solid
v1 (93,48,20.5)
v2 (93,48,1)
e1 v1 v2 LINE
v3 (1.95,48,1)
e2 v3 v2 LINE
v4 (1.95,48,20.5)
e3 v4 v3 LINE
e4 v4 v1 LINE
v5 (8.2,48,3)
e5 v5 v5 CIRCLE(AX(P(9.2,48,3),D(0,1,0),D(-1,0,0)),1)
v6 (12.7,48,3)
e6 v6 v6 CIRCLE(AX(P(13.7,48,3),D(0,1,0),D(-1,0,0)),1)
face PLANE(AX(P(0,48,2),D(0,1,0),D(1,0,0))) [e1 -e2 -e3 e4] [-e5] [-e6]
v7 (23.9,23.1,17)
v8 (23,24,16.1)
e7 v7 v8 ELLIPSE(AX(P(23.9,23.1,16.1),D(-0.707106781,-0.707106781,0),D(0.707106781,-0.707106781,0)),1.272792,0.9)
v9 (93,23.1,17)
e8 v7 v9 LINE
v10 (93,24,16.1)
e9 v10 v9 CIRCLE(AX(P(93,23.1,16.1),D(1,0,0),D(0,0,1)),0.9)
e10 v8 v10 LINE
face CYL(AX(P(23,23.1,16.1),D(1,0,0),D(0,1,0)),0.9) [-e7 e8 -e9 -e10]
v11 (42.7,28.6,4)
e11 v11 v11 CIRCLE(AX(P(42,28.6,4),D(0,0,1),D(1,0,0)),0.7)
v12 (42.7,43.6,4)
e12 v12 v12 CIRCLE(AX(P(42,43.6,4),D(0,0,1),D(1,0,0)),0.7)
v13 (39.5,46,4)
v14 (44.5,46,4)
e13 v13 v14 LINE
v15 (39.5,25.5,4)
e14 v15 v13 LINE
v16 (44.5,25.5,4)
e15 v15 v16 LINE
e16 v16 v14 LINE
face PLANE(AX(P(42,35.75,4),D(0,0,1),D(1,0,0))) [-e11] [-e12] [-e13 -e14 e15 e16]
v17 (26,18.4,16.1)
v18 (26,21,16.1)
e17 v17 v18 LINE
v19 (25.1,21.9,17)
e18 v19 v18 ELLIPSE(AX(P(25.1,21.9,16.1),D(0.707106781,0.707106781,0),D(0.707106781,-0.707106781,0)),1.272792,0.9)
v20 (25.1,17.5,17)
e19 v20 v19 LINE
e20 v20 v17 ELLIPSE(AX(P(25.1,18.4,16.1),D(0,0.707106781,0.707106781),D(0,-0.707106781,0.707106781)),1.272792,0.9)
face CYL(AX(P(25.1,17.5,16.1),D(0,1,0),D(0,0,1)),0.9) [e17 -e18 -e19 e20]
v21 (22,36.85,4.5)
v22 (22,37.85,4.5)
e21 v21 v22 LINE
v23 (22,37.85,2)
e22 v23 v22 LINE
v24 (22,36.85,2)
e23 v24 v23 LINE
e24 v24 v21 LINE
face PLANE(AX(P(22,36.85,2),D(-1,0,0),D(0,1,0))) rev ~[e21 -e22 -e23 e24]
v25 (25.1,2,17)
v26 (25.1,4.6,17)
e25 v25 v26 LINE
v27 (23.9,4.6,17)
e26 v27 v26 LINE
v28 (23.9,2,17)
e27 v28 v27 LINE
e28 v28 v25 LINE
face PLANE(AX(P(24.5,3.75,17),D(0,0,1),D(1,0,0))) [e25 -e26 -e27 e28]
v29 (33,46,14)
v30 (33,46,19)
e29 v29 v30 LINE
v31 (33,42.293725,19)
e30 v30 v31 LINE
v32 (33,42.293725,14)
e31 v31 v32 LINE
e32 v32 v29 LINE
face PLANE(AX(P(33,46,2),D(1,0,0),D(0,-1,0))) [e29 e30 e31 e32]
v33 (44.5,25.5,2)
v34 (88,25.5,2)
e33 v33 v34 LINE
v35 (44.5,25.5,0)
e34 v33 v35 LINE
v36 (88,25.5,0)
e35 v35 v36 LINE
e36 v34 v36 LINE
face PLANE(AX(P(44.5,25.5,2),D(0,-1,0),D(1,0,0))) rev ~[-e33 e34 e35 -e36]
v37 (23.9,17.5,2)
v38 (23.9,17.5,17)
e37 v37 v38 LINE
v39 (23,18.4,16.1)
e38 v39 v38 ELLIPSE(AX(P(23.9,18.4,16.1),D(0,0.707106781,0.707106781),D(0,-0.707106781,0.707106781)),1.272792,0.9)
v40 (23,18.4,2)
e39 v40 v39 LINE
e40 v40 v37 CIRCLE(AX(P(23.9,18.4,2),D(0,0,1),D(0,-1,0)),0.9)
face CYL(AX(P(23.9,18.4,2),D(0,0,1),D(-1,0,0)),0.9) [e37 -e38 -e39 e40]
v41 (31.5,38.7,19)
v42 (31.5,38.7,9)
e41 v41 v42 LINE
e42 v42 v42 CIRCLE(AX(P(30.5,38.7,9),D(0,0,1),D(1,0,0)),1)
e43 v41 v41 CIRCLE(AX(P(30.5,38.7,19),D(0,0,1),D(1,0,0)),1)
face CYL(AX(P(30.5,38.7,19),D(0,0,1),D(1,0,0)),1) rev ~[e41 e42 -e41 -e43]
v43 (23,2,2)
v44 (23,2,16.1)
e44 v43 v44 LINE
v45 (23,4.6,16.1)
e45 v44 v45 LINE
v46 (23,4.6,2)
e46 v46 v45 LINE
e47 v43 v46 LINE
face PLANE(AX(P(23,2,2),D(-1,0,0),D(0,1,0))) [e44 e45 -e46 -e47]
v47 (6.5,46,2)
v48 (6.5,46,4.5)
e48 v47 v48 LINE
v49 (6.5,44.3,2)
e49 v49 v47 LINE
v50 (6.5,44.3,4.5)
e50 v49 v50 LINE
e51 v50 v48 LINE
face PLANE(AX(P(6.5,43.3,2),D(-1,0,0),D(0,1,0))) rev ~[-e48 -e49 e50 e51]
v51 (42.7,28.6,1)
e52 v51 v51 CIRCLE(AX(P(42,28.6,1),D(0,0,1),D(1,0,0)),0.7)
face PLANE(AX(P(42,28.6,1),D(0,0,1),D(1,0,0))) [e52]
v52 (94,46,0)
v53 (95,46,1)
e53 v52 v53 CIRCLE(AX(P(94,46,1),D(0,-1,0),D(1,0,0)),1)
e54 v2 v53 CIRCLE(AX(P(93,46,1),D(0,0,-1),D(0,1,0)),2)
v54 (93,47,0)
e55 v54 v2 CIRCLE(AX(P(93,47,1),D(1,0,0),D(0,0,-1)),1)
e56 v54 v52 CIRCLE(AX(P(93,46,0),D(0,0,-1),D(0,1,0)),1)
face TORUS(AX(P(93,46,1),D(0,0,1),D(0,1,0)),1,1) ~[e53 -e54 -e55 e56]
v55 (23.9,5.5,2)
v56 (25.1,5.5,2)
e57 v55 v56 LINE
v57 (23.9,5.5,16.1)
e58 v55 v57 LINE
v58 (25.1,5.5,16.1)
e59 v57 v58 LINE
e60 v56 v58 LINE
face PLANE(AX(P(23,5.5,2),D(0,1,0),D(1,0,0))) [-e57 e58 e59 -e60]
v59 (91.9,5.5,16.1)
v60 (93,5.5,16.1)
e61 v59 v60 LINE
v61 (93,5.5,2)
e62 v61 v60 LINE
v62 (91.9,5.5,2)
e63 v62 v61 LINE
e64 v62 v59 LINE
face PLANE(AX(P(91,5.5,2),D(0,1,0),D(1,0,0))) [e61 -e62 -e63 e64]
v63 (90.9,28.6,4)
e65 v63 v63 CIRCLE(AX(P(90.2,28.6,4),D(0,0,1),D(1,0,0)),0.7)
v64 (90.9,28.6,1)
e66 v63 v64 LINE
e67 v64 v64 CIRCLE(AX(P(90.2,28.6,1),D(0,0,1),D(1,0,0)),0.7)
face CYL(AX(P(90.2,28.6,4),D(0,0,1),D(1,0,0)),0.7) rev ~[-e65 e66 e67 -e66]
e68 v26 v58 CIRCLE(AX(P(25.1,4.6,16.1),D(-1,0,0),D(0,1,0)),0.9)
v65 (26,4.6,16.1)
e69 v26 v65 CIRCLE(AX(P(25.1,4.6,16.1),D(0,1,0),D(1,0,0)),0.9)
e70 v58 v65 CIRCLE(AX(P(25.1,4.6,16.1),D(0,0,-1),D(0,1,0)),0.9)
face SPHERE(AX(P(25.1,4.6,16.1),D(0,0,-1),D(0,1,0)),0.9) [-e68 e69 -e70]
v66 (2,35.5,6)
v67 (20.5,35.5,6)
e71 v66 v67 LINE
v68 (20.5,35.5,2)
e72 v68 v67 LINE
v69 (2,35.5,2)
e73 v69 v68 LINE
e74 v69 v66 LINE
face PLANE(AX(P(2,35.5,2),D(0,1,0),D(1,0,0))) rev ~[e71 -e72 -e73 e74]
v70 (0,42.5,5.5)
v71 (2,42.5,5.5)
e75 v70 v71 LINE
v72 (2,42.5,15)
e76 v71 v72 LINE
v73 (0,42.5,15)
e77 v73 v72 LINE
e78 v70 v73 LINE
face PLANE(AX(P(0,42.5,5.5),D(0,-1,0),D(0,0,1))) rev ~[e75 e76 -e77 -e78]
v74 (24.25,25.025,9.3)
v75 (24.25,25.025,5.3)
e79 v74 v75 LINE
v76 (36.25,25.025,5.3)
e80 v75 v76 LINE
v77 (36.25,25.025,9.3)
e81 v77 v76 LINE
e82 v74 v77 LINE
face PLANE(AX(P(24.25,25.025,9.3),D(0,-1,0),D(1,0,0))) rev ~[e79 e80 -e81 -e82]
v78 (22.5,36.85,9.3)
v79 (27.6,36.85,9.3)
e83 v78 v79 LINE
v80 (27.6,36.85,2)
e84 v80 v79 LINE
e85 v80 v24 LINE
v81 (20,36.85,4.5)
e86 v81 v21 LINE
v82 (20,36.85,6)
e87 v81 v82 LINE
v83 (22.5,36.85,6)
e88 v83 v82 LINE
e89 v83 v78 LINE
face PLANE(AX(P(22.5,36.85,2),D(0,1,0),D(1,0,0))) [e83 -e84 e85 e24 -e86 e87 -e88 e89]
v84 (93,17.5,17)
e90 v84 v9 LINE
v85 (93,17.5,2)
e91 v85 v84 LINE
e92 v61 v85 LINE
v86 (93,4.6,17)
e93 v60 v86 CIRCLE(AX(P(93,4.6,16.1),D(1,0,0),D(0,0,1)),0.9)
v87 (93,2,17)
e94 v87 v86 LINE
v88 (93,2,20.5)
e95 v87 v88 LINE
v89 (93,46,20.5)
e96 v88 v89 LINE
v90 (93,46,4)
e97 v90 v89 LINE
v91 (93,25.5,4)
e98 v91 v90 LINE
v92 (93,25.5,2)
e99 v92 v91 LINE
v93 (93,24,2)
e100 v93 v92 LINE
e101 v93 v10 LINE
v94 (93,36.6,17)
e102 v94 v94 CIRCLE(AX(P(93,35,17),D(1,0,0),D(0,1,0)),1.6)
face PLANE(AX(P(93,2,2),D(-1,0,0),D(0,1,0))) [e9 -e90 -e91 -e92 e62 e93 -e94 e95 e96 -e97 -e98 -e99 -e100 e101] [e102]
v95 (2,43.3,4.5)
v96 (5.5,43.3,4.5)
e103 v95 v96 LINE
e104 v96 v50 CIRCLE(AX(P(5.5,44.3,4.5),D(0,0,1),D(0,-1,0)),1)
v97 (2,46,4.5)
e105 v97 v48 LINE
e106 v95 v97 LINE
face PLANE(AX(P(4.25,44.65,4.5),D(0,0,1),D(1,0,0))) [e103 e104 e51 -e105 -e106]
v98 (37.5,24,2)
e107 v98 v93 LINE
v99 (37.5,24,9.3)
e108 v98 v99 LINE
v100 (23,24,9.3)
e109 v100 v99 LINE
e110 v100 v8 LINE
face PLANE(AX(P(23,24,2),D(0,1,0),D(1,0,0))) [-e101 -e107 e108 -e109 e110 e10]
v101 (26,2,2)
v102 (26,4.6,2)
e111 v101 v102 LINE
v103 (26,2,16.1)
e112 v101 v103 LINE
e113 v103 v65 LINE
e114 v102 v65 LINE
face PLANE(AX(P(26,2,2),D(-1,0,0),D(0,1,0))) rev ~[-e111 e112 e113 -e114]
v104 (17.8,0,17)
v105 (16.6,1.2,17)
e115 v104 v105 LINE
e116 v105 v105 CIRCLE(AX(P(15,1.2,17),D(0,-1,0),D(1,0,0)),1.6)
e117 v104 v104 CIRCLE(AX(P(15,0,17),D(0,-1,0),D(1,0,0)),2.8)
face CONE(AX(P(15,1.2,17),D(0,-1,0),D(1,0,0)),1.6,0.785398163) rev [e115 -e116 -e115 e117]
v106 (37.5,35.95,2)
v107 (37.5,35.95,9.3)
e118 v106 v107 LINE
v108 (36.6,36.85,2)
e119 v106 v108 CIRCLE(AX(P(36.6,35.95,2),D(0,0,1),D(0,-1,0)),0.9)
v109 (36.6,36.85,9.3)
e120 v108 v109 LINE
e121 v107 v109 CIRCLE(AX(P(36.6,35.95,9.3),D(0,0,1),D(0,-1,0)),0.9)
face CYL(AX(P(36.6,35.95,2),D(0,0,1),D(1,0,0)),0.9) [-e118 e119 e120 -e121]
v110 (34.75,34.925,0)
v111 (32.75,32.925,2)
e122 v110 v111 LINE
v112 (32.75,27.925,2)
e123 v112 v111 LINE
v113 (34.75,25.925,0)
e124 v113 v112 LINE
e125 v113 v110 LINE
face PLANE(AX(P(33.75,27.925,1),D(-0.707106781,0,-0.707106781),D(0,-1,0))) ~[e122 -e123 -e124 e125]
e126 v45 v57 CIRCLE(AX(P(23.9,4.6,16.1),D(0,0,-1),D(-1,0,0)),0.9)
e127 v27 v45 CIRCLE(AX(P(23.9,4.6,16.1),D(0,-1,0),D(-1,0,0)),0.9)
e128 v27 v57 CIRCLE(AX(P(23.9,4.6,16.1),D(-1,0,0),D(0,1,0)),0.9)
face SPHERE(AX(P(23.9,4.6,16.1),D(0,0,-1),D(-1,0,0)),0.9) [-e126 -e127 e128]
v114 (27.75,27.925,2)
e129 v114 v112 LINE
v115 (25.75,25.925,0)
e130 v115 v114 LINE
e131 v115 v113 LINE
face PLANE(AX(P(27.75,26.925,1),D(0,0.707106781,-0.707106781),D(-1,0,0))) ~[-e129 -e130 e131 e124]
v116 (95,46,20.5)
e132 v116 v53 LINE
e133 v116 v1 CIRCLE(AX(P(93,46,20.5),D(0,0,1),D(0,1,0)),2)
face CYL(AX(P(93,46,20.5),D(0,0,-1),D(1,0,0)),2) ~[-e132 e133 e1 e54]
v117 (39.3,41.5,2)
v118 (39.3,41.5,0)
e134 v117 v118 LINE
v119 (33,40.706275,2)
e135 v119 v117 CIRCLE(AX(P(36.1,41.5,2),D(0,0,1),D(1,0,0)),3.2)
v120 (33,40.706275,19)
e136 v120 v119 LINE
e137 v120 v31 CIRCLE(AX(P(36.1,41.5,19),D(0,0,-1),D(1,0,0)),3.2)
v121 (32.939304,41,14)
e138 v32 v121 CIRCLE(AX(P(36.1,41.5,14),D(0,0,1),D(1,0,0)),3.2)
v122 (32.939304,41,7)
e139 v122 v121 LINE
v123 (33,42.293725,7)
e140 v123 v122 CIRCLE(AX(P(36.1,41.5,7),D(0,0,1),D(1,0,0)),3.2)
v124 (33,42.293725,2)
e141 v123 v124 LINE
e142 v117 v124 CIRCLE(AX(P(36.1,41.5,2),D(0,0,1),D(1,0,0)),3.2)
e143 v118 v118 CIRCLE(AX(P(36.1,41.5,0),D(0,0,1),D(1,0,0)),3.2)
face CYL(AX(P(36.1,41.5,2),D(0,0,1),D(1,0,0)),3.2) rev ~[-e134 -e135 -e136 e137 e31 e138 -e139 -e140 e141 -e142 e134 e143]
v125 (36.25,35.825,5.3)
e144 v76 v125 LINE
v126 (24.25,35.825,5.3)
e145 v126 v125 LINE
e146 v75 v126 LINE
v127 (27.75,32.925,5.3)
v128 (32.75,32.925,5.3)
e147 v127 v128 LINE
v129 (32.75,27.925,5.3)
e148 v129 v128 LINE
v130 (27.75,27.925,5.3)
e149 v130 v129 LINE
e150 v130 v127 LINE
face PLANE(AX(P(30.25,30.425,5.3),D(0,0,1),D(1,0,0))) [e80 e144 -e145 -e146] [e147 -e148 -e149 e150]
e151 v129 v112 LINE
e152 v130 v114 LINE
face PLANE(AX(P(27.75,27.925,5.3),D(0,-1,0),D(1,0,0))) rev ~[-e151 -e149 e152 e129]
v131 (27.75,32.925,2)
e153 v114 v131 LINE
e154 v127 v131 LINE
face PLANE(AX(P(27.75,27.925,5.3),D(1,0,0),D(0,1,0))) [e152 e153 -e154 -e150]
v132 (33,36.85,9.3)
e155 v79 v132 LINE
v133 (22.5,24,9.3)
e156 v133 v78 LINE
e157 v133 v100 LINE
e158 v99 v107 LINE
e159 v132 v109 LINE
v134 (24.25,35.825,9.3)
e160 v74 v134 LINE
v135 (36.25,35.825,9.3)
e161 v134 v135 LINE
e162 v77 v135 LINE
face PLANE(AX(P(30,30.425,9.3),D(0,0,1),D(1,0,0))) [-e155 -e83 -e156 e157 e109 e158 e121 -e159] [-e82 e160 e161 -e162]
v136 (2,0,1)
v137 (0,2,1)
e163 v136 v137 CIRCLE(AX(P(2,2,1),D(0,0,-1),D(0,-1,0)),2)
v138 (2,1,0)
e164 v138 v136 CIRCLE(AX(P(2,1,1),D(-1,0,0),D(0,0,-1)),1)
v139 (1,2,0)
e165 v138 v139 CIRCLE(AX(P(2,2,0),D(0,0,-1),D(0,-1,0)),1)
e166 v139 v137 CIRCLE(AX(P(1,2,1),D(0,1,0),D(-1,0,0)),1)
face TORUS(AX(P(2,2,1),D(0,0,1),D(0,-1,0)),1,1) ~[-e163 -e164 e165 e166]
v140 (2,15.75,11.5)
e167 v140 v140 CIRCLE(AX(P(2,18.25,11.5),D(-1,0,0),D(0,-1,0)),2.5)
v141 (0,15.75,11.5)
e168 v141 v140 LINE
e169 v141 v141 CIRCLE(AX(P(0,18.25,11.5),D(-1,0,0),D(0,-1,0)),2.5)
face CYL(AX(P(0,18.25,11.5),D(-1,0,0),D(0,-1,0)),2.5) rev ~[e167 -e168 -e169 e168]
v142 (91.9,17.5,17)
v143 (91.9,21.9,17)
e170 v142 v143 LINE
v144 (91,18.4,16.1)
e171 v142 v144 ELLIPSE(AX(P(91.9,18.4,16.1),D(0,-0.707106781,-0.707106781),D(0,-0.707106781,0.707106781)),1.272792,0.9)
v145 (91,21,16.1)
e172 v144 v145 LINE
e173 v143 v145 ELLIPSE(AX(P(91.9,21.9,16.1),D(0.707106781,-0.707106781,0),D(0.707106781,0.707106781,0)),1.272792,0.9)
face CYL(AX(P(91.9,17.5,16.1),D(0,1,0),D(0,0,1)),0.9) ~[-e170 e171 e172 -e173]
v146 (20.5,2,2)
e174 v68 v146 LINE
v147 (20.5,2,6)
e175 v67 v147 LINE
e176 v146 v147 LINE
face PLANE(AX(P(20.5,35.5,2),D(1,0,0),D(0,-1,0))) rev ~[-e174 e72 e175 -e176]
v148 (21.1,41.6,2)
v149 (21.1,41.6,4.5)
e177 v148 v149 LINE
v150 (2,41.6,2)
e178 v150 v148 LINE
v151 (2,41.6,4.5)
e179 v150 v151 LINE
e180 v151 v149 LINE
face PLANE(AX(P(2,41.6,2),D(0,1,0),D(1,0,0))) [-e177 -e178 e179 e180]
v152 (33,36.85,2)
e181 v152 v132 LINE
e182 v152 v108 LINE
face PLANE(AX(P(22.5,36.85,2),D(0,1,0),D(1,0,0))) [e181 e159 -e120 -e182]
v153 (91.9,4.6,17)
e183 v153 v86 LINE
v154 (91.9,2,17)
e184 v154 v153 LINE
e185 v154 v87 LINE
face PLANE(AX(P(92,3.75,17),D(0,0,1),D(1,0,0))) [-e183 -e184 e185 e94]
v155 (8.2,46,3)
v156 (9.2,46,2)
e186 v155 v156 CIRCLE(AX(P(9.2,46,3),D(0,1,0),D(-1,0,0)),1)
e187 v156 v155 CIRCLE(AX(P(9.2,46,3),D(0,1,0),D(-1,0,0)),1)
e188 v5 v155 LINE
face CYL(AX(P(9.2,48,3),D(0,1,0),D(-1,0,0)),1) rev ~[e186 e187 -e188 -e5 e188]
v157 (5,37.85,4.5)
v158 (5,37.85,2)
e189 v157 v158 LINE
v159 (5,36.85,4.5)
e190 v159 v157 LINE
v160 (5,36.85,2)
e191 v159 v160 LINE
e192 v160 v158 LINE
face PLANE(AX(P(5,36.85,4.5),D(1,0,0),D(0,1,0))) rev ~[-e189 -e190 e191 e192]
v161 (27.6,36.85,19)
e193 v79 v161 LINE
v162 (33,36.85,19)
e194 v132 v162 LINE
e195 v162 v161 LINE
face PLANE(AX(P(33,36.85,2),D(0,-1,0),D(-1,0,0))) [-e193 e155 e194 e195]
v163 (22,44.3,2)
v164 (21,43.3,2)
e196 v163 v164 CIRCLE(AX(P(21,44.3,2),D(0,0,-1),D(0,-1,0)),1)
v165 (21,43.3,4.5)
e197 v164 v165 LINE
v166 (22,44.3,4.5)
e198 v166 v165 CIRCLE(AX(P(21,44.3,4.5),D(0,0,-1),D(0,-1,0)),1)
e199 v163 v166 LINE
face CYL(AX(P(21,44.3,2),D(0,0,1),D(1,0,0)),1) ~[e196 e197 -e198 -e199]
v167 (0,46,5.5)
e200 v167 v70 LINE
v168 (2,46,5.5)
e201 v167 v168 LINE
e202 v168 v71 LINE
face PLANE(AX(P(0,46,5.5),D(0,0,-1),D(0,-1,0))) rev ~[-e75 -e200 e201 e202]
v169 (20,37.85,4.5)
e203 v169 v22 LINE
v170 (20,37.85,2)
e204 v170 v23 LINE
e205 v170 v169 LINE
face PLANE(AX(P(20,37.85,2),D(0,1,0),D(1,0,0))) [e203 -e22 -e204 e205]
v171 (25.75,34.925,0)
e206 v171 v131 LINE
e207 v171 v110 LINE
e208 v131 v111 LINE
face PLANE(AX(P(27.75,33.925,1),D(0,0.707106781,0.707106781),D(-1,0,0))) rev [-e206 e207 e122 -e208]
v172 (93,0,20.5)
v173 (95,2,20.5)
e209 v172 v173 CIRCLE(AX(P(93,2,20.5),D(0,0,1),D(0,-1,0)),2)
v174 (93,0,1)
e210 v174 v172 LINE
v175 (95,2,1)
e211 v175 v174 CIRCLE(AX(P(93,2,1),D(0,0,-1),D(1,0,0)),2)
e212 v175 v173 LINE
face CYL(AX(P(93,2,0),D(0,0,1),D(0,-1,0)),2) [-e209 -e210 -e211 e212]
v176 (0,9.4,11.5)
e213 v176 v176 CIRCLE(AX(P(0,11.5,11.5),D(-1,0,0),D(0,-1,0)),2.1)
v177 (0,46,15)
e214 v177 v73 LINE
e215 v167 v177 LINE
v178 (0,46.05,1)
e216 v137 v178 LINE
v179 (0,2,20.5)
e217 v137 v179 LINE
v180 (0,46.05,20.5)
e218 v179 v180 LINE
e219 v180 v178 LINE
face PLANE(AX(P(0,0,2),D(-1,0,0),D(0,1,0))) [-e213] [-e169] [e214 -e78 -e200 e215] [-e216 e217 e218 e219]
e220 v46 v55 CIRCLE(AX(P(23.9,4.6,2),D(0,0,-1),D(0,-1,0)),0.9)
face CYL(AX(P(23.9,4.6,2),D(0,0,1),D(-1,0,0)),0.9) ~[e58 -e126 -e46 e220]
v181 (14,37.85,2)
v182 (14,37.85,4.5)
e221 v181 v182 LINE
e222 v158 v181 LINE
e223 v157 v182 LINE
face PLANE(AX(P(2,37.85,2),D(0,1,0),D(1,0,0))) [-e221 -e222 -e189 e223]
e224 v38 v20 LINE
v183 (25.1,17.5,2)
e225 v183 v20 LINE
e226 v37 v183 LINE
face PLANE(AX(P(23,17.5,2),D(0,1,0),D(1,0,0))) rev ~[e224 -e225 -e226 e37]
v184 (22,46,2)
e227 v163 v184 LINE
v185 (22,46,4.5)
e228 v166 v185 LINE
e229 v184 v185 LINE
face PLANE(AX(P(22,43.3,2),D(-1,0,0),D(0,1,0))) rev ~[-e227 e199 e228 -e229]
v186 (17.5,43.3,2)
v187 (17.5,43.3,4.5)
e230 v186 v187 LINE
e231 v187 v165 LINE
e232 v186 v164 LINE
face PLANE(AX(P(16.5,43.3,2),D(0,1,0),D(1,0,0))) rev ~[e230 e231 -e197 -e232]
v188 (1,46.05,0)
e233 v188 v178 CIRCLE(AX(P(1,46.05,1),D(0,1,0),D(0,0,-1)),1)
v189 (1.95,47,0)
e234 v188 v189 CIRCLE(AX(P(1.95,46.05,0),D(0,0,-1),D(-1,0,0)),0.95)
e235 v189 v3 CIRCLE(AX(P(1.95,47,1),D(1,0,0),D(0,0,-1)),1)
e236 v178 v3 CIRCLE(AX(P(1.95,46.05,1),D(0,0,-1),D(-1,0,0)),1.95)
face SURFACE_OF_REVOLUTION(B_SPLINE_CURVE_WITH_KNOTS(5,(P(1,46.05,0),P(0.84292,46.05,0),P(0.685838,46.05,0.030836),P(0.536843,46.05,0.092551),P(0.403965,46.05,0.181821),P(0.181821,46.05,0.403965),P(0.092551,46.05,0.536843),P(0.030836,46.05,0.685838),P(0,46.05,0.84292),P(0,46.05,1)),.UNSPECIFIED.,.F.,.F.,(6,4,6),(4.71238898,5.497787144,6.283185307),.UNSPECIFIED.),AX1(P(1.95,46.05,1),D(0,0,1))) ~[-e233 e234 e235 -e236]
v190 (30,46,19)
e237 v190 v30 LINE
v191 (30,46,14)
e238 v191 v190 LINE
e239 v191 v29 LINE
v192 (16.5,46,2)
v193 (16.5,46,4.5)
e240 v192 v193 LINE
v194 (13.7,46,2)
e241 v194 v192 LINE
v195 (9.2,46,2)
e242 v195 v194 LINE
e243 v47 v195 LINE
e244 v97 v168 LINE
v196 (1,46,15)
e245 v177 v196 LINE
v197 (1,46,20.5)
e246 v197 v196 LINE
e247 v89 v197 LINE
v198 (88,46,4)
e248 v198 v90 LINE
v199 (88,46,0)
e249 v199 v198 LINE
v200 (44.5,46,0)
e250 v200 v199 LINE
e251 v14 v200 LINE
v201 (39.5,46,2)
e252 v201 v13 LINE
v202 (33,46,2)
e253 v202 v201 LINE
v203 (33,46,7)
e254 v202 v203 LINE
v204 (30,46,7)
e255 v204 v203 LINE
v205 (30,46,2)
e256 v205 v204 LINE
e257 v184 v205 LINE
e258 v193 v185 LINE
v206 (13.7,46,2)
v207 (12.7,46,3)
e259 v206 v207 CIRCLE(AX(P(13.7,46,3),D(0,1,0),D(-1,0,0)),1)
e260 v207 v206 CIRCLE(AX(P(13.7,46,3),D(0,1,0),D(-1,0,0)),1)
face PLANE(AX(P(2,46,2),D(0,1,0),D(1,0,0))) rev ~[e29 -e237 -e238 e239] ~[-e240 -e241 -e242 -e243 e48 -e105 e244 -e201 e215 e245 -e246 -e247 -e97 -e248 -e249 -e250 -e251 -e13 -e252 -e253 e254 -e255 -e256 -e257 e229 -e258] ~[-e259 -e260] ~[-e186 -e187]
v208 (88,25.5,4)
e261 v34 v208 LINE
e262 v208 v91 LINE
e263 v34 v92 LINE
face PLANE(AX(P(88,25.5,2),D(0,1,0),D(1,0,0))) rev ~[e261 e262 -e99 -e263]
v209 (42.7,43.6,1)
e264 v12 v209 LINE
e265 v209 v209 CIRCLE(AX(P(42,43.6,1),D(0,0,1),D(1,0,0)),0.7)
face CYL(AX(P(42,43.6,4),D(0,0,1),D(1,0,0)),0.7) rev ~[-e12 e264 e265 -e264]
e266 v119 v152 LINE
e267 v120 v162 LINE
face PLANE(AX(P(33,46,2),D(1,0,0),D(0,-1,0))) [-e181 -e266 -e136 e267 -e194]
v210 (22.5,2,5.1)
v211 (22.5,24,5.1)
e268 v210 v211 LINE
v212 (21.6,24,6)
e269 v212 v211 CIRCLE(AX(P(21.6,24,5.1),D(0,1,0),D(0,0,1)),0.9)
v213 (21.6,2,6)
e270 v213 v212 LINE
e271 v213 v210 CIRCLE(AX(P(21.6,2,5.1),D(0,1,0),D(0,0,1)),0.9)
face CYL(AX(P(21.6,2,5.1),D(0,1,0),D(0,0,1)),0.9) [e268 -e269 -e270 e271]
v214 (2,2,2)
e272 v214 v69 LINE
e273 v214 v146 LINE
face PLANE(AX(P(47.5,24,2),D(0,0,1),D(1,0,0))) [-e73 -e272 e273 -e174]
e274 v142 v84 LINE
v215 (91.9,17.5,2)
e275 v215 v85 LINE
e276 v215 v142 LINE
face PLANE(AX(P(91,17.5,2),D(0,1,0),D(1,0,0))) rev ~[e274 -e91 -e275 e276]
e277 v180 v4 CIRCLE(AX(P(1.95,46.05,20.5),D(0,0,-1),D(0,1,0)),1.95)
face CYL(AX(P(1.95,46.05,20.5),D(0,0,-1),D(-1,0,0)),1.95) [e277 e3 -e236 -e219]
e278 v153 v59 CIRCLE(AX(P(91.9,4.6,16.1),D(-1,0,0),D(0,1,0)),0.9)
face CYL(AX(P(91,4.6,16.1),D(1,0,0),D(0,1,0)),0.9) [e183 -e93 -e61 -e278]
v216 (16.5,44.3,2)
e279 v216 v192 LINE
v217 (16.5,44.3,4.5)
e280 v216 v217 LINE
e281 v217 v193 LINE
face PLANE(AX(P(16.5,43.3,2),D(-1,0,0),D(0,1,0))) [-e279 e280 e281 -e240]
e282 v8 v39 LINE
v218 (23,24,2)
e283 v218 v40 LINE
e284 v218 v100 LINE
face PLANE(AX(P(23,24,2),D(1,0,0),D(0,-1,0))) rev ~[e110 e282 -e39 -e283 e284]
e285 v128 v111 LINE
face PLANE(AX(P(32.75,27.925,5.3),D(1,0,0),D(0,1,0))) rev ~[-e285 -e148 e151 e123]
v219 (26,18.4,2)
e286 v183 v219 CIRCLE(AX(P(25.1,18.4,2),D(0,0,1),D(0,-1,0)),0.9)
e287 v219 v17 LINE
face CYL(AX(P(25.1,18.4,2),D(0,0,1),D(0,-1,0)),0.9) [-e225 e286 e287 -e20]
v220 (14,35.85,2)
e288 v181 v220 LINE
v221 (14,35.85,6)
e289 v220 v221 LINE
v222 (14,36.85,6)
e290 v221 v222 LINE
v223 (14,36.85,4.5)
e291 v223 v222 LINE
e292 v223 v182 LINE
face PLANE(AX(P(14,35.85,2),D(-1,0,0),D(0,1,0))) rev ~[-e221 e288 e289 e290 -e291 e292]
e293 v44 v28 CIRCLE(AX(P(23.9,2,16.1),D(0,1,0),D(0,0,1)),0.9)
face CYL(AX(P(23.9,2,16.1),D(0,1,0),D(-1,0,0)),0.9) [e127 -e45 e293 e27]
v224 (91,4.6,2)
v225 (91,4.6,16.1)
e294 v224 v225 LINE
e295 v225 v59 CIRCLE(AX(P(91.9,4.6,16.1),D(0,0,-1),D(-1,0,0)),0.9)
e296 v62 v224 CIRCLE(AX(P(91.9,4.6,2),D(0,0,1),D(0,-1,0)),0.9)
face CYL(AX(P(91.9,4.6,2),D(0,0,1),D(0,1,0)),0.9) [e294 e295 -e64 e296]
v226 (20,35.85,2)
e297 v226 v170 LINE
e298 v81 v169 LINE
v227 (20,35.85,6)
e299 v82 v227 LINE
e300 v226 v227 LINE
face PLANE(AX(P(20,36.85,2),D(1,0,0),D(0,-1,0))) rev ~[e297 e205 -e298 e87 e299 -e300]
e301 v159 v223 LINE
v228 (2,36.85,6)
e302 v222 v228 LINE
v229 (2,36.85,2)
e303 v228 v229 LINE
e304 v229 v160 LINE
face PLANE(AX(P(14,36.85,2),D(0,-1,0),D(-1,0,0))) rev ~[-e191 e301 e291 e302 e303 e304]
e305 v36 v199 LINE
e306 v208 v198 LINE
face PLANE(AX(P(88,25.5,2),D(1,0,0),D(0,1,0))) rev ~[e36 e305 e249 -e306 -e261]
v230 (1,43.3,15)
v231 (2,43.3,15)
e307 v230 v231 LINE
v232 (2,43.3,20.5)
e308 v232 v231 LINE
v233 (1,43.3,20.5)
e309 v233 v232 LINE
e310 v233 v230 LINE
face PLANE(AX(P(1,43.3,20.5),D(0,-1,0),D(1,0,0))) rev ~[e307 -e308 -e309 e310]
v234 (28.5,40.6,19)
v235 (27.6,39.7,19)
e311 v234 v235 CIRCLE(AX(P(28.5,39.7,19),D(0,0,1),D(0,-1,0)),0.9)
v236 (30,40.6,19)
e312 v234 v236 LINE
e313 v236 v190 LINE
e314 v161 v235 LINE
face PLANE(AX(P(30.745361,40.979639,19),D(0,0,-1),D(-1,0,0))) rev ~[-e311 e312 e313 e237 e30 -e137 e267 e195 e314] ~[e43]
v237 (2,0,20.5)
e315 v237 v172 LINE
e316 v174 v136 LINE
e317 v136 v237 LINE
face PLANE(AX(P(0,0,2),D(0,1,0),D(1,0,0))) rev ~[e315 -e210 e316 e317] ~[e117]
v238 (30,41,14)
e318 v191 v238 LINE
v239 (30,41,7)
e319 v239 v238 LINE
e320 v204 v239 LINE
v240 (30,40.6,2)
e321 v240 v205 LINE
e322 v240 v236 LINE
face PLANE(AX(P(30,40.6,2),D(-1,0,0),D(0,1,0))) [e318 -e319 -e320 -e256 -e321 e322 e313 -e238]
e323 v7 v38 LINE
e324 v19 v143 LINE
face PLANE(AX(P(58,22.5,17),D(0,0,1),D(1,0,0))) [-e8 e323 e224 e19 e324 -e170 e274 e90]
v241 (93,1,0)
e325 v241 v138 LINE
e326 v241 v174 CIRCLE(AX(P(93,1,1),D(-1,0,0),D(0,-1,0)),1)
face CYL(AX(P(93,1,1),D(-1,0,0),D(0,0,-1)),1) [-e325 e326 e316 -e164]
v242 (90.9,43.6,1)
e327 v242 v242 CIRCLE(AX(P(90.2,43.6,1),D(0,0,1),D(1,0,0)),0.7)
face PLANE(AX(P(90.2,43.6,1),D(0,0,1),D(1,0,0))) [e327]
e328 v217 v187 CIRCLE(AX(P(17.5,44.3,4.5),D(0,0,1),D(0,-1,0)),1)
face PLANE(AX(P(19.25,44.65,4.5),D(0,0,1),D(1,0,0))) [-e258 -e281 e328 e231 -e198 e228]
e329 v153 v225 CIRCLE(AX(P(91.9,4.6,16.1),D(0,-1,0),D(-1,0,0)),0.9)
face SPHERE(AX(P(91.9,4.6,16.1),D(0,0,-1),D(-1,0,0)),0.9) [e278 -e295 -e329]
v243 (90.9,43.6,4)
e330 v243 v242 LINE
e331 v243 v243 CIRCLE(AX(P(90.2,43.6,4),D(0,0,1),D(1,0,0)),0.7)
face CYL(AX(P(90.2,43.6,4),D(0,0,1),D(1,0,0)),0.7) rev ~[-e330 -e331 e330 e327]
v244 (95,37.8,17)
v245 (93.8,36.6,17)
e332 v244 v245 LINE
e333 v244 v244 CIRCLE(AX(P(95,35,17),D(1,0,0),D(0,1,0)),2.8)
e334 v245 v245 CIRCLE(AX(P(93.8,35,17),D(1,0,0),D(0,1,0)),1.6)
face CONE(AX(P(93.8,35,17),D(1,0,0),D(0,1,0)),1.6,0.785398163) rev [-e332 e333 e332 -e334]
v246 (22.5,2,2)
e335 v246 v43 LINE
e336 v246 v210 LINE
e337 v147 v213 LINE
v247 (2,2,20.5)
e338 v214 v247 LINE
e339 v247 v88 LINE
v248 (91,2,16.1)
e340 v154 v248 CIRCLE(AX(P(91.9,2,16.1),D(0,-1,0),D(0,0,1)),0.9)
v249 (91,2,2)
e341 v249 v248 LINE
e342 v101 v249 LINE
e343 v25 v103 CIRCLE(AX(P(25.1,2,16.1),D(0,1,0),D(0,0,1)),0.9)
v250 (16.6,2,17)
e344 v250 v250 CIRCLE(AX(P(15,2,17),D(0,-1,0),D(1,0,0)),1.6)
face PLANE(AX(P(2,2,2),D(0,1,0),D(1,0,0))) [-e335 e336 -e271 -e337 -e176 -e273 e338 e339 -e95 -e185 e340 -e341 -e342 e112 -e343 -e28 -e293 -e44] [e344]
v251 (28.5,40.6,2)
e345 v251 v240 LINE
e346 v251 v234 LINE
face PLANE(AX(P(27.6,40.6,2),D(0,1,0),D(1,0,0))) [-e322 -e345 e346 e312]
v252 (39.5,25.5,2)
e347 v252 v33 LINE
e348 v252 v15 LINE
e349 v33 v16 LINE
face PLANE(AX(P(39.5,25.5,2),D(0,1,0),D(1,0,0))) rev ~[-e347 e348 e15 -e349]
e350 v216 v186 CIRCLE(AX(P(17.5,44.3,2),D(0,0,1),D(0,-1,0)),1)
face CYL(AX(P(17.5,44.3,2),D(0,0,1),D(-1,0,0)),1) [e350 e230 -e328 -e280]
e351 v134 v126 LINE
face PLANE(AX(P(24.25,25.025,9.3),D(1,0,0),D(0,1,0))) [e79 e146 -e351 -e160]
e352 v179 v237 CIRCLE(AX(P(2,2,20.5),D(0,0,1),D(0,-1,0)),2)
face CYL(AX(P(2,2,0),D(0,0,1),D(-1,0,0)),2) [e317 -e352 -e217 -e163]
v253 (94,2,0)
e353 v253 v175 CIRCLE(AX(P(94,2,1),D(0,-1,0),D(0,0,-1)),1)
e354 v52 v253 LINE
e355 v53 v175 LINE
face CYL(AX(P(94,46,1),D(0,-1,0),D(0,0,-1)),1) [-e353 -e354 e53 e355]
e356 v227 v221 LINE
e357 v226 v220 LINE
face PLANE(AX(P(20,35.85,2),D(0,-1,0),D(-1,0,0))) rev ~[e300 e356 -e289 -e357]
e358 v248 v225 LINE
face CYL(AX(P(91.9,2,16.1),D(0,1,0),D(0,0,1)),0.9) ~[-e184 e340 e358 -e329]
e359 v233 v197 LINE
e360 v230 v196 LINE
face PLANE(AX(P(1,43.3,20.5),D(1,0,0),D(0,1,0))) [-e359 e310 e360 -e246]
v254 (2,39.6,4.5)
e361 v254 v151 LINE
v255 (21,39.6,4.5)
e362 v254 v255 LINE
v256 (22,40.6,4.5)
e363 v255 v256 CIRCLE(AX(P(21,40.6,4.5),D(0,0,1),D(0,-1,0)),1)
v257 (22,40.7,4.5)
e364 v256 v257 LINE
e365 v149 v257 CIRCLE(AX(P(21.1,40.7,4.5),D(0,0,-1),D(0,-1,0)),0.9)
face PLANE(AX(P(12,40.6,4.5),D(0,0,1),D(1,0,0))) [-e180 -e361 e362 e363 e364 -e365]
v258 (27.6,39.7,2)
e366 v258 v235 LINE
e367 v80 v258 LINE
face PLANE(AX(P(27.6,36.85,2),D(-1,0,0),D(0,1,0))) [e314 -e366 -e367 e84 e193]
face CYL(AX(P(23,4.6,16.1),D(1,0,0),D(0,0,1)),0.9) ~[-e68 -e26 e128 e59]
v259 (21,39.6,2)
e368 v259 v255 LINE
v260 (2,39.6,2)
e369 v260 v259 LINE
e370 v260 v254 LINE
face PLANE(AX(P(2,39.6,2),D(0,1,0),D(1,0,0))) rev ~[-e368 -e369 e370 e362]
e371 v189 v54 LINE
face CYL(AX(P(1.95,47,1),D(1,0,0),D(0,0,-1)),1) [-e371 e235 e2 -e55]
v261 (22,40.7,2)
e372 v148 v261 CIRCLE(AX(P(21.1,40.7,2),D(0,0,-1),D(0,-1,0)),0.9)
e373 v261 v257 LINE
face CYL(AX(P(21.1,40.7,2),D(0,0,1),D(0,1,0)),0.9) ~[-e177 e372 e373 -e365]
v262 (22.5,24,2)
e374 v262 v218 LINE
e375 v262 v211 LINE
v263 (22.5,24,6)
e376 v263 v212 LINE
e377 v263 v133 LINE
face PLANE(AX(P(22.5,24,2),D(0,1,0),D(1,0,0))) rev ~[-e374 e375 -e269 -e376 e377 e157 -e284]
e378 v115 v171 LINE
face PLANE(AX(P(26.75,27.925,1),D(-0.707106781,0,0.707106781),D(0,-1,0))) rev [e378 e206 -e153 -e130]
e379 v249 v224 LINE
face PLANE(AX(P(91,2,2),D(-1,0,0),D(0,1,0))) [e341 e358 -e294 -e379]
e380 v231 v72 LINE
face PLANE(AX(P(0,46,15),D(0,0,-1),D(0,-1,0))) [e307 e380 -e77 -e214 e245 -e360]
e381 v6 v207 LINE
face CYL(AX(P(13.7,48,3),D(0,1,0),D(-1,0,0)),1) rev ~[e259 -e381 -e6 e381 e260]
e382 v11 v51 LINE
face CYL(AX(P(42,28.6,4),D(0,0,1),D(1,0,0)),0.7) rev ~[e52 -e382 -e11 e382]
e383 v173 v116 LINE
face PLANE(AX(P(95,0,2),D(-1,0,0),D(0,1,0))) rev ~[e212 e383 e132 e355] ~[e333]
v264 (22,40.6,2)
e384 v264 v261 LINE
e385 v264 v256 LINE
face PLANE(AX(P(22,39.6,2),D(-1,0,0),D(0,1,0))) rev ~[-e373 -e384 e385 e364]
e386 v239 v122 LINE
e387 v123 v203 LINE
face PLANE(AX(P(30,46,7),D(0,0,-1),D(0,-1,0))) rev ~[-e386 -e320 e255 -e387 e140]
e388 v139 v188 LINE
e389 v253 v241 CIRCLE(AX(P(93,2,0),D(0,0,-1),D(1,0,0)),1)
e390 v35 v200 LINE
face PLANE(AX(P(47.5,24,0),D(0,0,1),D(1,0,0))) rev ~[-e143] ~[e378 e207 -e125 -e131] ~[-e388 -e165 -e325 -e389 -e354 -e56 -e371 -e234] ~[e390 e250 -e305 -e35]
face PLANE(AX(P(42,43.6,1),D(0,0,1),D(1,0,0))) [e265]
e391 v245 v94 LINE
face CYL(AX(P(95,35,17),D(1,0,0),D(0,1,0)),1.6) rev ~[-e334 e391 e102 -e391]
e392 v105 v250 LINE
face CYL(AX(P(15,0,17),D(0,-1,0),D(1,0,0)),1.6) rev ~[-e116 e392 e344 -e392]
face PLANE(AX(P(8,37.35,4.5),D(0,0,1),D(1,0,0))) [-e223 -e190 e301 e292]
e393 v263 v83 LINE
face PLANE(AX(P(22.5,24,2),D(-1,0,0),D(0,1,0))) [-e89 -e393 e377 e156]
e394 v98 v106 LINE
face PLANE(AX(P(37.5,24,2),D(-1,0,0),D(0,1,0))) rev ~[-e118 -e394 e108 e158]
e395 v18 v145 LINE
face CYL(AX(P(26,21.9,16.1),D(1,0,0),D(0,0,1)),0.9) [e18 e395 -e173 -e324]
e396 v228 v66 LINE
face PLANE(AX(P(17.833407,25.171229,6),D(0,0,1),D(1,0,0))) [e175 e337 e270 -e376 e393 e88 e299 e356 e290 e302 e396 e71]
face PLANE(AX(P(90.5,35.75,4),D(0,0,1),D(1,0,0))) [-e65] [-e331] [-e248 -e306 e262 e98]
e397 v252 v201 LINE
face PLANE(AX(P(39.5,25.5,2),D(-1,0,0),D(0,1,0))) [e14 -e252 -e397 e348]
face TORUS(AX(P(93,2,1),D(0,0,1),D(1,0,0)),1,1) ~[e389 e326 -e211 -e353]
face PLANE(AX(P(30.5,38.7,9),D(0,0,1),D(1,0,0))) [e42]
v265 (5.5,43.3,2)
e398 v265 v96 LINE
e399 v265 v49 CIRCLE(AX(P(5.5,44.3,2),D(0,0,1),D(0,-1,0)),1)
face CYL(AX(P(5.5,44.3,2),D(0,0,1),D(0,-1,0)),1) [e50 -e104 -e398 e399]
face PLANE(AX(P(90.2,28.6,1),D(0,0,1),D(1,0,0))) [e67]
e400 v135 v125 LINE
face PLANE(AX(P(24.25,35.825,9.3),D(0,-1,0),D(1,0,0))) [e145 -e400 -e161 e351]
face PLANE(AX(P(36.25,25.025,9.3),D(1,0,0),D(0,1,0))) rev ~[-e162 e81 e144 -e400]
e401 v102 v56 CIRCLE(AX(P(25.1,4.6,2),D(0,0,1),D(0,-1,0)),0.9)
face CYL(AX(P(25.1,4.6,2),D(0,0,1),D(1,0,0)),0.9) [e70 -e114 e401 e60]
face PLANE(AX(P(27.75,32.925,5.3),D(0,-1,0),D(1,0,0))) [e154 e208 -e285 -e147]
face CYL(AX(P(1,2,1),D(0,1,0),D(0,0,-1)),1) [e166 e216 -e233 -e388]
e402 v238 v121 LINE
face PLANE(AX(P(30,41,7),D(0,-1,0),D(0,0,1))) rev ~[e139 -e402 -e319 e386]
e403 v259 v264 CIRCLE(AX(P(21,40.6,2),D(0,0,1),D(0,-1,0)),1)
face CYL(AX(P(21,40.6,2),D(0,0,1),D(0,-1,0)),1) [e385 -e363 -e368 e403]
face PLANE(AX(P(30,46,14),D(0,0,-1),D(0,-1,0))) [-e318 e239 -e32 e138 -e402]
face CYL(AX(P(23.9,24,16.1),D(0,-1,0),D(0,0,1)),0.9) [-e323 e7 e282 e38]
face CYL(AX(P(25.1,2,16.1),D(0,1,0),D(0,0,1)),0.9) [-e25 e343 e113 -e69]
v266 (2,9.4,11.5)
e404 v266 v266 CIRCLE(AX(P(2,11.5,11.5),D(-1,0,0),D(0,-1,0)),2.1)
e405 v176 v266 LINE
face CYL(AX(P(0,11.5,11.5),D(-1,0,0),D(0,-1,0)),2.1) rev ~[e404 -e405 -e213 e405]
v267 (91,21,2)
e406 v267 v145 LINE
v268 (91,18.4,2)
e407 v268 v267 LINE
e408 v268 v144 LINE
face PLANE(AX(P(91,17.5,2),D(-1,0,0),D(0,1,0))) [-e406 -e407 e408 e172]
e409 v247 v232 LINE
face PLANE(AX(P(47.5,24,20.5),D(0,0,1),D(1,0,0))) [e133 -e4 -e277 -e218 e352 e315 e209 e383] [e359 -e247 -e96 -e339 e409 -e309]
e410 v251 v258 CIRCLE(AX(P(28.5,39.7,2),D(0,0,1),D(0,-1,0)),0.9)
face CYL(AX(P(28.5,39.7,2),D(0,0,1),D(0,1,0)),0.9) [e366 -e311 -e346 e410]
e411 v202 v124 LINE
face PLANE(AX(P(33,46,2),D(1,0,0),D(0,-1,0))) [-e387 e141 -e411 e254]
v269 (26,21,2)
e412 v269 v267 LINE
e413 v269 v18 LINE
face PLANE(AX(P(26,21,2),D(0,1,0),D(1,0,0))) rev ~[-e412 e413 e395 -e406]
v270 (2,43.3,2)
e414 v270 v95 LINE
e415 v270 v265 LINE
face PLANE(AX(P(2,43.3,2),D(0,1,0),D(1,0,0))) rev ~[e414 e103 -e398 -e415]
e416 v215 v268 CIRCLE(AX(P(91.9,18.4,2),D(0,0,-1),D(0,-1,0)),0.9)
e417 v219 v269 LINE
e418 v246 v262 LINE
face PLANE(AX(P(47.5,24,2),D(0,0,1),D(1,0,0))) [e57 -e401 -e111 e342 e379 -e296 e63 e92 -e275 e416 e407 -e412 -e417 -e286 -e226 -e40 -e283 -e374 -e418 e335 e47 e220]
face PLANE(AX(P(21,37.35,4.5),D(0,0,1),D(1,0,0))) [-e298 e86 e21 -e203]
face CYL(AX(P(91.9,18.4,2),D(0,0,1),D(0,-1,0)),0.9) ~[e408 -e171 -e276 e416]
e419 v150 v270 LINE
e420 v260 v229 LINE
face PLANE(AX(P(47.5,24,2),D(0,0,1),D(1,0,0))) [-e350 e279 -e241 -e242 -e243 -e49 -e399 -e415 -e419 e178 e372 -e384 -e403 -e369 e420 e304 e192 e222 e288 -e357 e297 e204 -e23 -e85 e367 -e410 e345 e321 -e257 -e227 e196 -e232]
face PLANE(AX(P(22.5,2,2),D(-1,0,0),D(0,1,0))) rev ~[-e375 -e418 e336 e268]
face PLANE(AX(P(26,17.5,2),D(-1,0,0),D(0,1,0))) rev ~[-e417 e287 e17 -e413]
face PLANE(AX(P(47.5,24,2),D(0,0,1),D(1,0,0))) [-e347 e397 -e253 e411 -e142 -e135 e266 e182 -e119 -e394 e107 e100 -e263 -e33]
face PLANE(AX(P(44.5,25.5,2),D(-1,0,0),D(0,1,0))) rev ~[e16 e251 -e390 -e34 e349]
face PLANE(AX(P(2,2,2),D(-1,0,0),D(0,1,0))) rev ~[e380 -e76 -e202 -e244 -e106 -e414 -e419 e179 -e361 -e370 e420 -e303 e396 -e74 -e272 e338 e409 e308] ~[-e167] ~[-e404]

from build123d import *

# Parameters (mm, degrees)
SKETCH_W             = 95
SKETCH_H             = 48
PAD_DEPTH            = 2
SKETCH001_W          = 95
SKETCH001_H          = 48
SKETCH001_W_2        = 91
SKETCH001_H_2        = 44
PAD001_DEPTH         = 18.5
SKETCH002_W          = 43.5
SKETCH002_H          = 20.5
POCKET_DEPTH         = 5
SKETCH003_W          = 5
SKETCH003_H          = 20.5
PAD002_DEPTH         = 2
SKETCH004_R          = 0.7
POCKET001_DEPTH      = 3
SKETCH005_W          = 4.5
SKETCH005_H          = 2.7
SKETCH005_W_2        = 5.5
SKETCH005_W_3        = 20
SKETCH005_H_2        = 2
SKETCH005_W_4        = 12
SKETCH005_H_3        = 1
SKETCH005_W_5        = 2
PAD003_DEPTH         = 2.5
PAD004_DEPTH         = 17
SKETCH007_W          = 1
SKETCH007_H          = 2.7
POCKET002_DEPTH      = 14
SKETCH008_W          = 3.5
SKETCH008_H          = 9.5
POCKET003_DEPTH      = 2
SKETCH009_R          = 1
POCKET004_DEPTH      = 2
PAD005_DEPTH         = 4
SKETCH011_W          = 70
SKETCH011_H          = 3
SKETCH011_W_2        = 2
SKETCH011_H_2        = 3.5
SKETCH011_W_3        = 3
PAD006_DEPTH         = 15
SKETCH012_W          = 15
SKETCH012_H          = 12.85
PAD007_DEPTH         = 7.3
SKETCH013_W          = 12
SKETCH013_H          = 10.8
POCKET005_DEPTH      = 4
SKETCH014_W          = 5
SKETCH014_H          = 5
POCKET006_DEPTH      = 6
SKETCH015_R          = 3.2
POCKET007_DEPTH      = 5
POCKET007_DEPTH_BACK = 100
SKETCH017_R          = 1
POCKET008_DEPTH      = 10
SKETCH018_R          = 1.6
POCKET009_DEPTH      = 5
SKETCH019_R          = 1.6
POCKET010_DEPTH      = 5
SKETCH026_R          = 2.1
SKETCH026_R_2        = 2.5
POCKET014_DEPTH      = 5
FILLET003_R          = 2
FILLET004_R          = 1.95
CHAMFER001_SIZE      = 2
FILLET005_R          = 1
CHAMFER003_SIZE      = 1.2
CHAMFER004_SIZE      = 1.2
FILLET013_R          = 1
FILLET014_R          = 0.9
SKETCH049_W          = 3
SKETCH049_H          = 1
POCKET020_DEPTH      = 2.5
SKETCH050_W          = 5
SKETCH050_H          = 7
POCKET021_DEPTH      = 5


with BuildPart() as part:
    # Sketch → Pad (new body)
    with BuildSketch(Plane.XY):
        with Locations((47.5, 24)):
            Rectangle(SKETCH_W, SKETCH_H)
    extrude(amount=PAD_DEPTH)

    # Sketch001 (on Face6 of Pad) → Pad001 (join)
    with BuildSketch(Plane.XY.offset(2)):
        with Locations((47.5, 24)):
            Rectangle(SKETCH001_W, SKETCH001_H)
        with Locations((47.5, 24)):
            Rectangle(SKETCH001_W_2, SKETCH001_H_2, mode=Mode.SUBTRACT)
    extrude(amount=PAD001_DEPTH)

    # Sketch002 (on Face15 of Pad001) → Pocket (cut)
    with BuildSketch(Plane.XY.offset(2)):
        with Locations((66.25, 35.75)):
            Rectangle(SKETCH002_W, SKETCH002_H)
    extrude(amount=-POCKET_DEPTH, mode=Mode.SUBTRACT)

    # Sketch003 (on Face15 of Pocket) → Pad002 (join)
    with BuildSketch(Plane.XY.offset(2)):
        with Locations((42, 35.75)):
            Rectangle(SKETCH003_W, SKETCH003_H)
        with Locations((90.5, 35.75)):
            Rectangle(SKETCH003_W, SKETCH003_H)
    extrude(amount=PAD002_DEPTH)

    # Sketch004 (on Face26 of Pad002) → Pocket001 (cut)
    with BuildSketch(Plane.XY.offset(4)):
        with Locations((90.2, 43.6)):
            Circle(SKETCH004_R)
        with Locations((90.2, 28.6)):
            Circle(SKETCH004_R)
        with Locations((42, 43.6)):
            Circle(SKETCH004_R)
        with Locations((42, 28.6)):
            Circle(SKETCH004_R)
    extrude(amount=-POCKET001_DEPTH, mode=Mode.SUBTRACT)

    # Sketch005 (on Face16 of Pocket001) → Pad003 (join)
    with BuildSketch(Plane.XY.offset(2)):
        with Locations((4.25, 44.65)):
            Rectangle(SKETCH005_W, SKETCH005_H)
        with Locations((19.25, 44.65)):
            Rectangle(SKETCH005_W_2, SKETCH005_H)
        with Locations((12, 40.6)):
            Rectangle(SKETCH005_W_3, SKETCH005_H_2)
        with Locations((8, 37.35)):
            Rectangle(SKETCH005_W_4, SKETCH005_H_3)
        with Locations((21, 37.35)):
            Rectangle(SKETCH005_W_5, SKETCH005_H_3)
    extrude(amount=PAD003_DEPTH)

    # Sketch006 (on Face16 of Pad003) → Pad004 (join)
    with BuildSketch(Plane.XY.offset(2)):
        Polygon((30, 46), (33, 46), (33, 36.85), (27.6, 36.85), (27.6, 40.6), (30, 40.6), align=None)
    extrude(amount=PAD004_DEPTH)

    # Sketch007 (on Face13 of Pad004) → Pocket002 (cut)
    with BuildSketch(Plane.XY.offset(20.5)):
        with Locations((1.5, 44.65)):
            Rectangle(SKETCH007_W, SKETCH007_H)
    extrude(amount=-POCKET002_DEPTH, mode=Mode.SUBTRACT)

    # Sketch008 (on Face7 of Pocket002) → Pocket003 (cut)
    with BuildSketch(Plane(origin=(0, 0, 0), x_dir=(0, -1, 0), z_dir=(-1, 0, 0))):
        with Locations((-44.25, 10.25)):
            Rectangle(SKETCH008_W, SKETCH008_H)
    extrude(amount=-POCKET003_DEPTH, mode=Mode.SUBTRACT)

    # Sketch009 (on Face14 of Pocket003) → Pocket004 (cut)
    with BuildSketch(Plane(origin=(0, 48, 0), x_dir=(-1, 0, 0), z_dir=(0, 1, 0))):
        with Locations((-9.2, 3)):
            Circle(SKETCH009_R)
        with Locations((-13.7, 3)):
            Circle(SKETCH009_R)
    extrude(amount=-POCKET004_DEPTH, mode=Mode.SUBTRACT)

    # Sketch010 (on Face20 of Pocket004) → Pad005 (join)
    with BuildSketch(Plane.XY.offset(2)):
        Polygon((2, 35.5), (20.5, 35.5), (20.5, 2), (22.5, 2), (22.5, 36.85), (20, 36.85), (20, 35.85), (14, 35.85), (14, 36.85), (2, 36.85), align=None)
    extrude(amount=PAD005_DEPTH)

    # Sketch011 (on Face20 of Pad005) → Pad006 (join)
    with BuildSketch(Plane.XY.offset(2)):
        with Locations((58, 22.5)):
            Rectangle(SKETCH011_W, SKETCH011_H)
        with Locations((92, 3.75)):
            Rectangle(SKETCH011_W_2, SKETCH011_H_2)
        with Locations((92, 19.25)):
            Rectangle(SKETCH011_W_2, SKETCH011_H_2)
        with Locations((24.5, 19.25)):
            Rectangle(SKETCH011_W_3, SKETCH011_H_2)
        with Locations((24.5, 3.75)):
            Rectangle(SKETCH011_W_3, SKETCH011_H_2)
    extrude(amount=PAD006_DEPTH)

    # Sketch012 (on Face20 of Pad006) → Pad007 (join)
    with BuildSketch(Plane.XY.offset(2)):
        with Locations((30, 30.425)):
            Rectangle(SKETCH012_W, SKETCH012_H)
    extrude(amount=PAD007_DEPTH)

    # Sketch013 (on Face73 of Pad007) → Pocket005 (cut)
    with BuildSketch(Plane.XY.offset(9.3)):
        with Locations((30.25, 30.425)):
            Rectangle(SKETCH013_W, SKETCH013_H)
    extrude(amount=-POCKET005_DEPTH, mode=Mode.SUBTRACT)

    # Sketch014 (on Face107 of Pocket005) → Pocket006 (cut)
    with BuildSketch(Plane.XY.offset(5.3)):
        with Locations((30.25, 30.425)):
            Rectangle(SKETCH014_W, SKETCH014_H)
    extrude(amount=-POCKET006_DEPTH, mode=Mode.SUBTRACT)

    # Sketch015 (on Face25 of Pocket006) → Pocket007 (cut, two sides)
    with BuildSketch(Plane.XY.offset(2)) as pocket007_sk:
        with Locations((36.1, 41.5)):
            Circle(SKETCH015_R)
    extrude(amount=-POCKET007_DEPTH, mode=Mode.SUBTRACT)
    extrude(pocket007_sk.sketch, amount=POCKET007_DEPTH_BACK, mode=Mode.SUBTRACT)

    # Sketch017 (on Face27 of Pocket007) → Pocket008 (cut)
    with BuildSketch(Plane.XY.offset(19)):
        with Locations((30.5, 38.7)):
            Circle(SKETCH017_R)
    extrude(amount=-POCKET008_DEPTH, mode=Mode.SUBTRACT)

    # Sketch018 (on Face5 of Pocket008) → Pocket009 (cut)
    with BuildSketch(Plane.XZ):
        with Locations((15, 17)):
            Circle(SKETCH018_R)
    extrude(amount=-POCKET009_DEPTH, mode=Mode.SUBTRACT)

    # Sketch019 (on Face8 of Pocket009) → Pocket010 (cut)
    with BuildSketch(Plane.YZ.offset(95)):
        with Locations((35, 17)):
            Circle(SKETCH019_R)
    extrude(amount=-POCKET010_DEPTH, mode=Mode.SUBTRACT)

    # Sketch026 (on Face7 of Pocket010) → Pocket014 (cut)
    with BuildSketch(Plane(origin=(0, 0, 0), x_dir=(0, -1, 0), z_dir=(-1, 0, 0))):
        with Locations((-11.5, 11.5)):
            Circle(SKETCH026_R)
        with Locations((-18.25, 11.5)):
            Circle(SKETCH026_R_2)
    extrude(amount=-POCKET014_DEPTH, mode=Mode.SUBTRACT)

    # Fillet003
    fillet003_edges = [part.edges().sort_by_distance(p)[0] for p in [
        (0, 0, 1),
        (95, 0, 11.25),
        (95, 48, 11.25),
    ]]
    fillet(fillet003_edges, radius=FILLET003_R)

    # Fillet004
    fillet004_edges = [part.edges().sort_by_distance(p)[0] for p in [
        (0, 48, 1),
    ]]
    fillet(fillet004_edges, radius=FILLET004_R)

    # Chamfer001
    chamfer001_edges = [part.edges().sort_by_distance(p)[0] for p in [
        (30.25, 27.925, 0),
        (32.75, 30.425, 0),
        (30.25, 32.925, 0),
        (27.75, 30.425, 0),
    ]]
    chamfer(chamfer001_edges, length=CHAMFER001_SIZE)

    # Fillet005
    fillet005_edges = [part.edges().sort_by_distance(p)[0] for p in [
        (47.475, 48, 0),
    ]]
    fillet(fillet005_edges, radius=FILLET005_R)

    # Chamfer003
    chamfer003_edges = [part.edges().sort_by_distance(p)[0] for p in [
        (95, 33.4, 17),
    ]]
    chamfer(chamfer003_edges, length=CHAMFER003_SIZE)

    # Chamfer004
    chamfer004_edges = [part.edges().sort_by_distance(p)[0] for p in [
        (13.4, 0, 17),
    ]]
    chamfer(chamfer004_edges, length=CHAMFER004_SIZE)

    # Fillet013
    fillet013_edges = [part.edges().sort_by_distance(p)[0] for p in [
        (6.5, 43.3, 3.25),
        (16.5, 43.3, 3.25),
        (22, 43.3, 3.25),
        (22, 39.6, 3.25),
    ]]
    fillet(fillet013_edges, radius=FILLET013_R)

    # Fillet014
    fillet014_edges = [part.edges().sort_by_distance(p)[0] for p in [
        (22, 41.6, 3.25),
        (37.5, 36.85, 5.65),
        (27.6, 40.6, 10.5),
        (26, 17.5, 9.5),
        (26, 5.5, 9.5),
        (91, 17.5, 9.5),
        (91, 5.5, 9.5),
        (23, 17.5, 9.5),
        (23, 5.5, 9.5),
        (22.5, 13, 6),
        (58.5, 21, 17),
        (26, 19.25, 17),
        (23, 19.25, 17),
        (23, 22.5, 17),
        (58, 24, 17),
        (23, 3.75, 17),
        (24.5, 5.5, 17),
        (26, 3.75, 17),
        (91, 19.25, 17),
        (91, 3.75, 17),
        (92, 5.5, 17),
    ]]
    fillet(fillet014_edges, radius=FILLET014_R)

    # Sketch049 (on Face36 of Fillet014) → Pocket020 (cut)
    with BuildSketch(Plane.XY.offset(4.5)):
        with Locations((3.5, 37.35)):
            Rectangle(SKETCH049_W, SKETCH049_H)
    extrude(amount=-POCKET020_DEPTH, mode=Mode.SUBTRACT)

    # Sketch050 (on Face30 of Pocket020) → Pocket021 (cut)
    with BuildSketch(Plane(origin=(30, 0, 0), x_dir=(0, -1, 0), z_dir=(-1, 0, 0))):
        with Locations((-43.5, 10.5)):
            Rectangle(SKETCH050_W, SKETCH050_H)
    extrude(amount=-POCKET021_DEPTH, mode=Mode.SUBTRACT)


solid = part.part
